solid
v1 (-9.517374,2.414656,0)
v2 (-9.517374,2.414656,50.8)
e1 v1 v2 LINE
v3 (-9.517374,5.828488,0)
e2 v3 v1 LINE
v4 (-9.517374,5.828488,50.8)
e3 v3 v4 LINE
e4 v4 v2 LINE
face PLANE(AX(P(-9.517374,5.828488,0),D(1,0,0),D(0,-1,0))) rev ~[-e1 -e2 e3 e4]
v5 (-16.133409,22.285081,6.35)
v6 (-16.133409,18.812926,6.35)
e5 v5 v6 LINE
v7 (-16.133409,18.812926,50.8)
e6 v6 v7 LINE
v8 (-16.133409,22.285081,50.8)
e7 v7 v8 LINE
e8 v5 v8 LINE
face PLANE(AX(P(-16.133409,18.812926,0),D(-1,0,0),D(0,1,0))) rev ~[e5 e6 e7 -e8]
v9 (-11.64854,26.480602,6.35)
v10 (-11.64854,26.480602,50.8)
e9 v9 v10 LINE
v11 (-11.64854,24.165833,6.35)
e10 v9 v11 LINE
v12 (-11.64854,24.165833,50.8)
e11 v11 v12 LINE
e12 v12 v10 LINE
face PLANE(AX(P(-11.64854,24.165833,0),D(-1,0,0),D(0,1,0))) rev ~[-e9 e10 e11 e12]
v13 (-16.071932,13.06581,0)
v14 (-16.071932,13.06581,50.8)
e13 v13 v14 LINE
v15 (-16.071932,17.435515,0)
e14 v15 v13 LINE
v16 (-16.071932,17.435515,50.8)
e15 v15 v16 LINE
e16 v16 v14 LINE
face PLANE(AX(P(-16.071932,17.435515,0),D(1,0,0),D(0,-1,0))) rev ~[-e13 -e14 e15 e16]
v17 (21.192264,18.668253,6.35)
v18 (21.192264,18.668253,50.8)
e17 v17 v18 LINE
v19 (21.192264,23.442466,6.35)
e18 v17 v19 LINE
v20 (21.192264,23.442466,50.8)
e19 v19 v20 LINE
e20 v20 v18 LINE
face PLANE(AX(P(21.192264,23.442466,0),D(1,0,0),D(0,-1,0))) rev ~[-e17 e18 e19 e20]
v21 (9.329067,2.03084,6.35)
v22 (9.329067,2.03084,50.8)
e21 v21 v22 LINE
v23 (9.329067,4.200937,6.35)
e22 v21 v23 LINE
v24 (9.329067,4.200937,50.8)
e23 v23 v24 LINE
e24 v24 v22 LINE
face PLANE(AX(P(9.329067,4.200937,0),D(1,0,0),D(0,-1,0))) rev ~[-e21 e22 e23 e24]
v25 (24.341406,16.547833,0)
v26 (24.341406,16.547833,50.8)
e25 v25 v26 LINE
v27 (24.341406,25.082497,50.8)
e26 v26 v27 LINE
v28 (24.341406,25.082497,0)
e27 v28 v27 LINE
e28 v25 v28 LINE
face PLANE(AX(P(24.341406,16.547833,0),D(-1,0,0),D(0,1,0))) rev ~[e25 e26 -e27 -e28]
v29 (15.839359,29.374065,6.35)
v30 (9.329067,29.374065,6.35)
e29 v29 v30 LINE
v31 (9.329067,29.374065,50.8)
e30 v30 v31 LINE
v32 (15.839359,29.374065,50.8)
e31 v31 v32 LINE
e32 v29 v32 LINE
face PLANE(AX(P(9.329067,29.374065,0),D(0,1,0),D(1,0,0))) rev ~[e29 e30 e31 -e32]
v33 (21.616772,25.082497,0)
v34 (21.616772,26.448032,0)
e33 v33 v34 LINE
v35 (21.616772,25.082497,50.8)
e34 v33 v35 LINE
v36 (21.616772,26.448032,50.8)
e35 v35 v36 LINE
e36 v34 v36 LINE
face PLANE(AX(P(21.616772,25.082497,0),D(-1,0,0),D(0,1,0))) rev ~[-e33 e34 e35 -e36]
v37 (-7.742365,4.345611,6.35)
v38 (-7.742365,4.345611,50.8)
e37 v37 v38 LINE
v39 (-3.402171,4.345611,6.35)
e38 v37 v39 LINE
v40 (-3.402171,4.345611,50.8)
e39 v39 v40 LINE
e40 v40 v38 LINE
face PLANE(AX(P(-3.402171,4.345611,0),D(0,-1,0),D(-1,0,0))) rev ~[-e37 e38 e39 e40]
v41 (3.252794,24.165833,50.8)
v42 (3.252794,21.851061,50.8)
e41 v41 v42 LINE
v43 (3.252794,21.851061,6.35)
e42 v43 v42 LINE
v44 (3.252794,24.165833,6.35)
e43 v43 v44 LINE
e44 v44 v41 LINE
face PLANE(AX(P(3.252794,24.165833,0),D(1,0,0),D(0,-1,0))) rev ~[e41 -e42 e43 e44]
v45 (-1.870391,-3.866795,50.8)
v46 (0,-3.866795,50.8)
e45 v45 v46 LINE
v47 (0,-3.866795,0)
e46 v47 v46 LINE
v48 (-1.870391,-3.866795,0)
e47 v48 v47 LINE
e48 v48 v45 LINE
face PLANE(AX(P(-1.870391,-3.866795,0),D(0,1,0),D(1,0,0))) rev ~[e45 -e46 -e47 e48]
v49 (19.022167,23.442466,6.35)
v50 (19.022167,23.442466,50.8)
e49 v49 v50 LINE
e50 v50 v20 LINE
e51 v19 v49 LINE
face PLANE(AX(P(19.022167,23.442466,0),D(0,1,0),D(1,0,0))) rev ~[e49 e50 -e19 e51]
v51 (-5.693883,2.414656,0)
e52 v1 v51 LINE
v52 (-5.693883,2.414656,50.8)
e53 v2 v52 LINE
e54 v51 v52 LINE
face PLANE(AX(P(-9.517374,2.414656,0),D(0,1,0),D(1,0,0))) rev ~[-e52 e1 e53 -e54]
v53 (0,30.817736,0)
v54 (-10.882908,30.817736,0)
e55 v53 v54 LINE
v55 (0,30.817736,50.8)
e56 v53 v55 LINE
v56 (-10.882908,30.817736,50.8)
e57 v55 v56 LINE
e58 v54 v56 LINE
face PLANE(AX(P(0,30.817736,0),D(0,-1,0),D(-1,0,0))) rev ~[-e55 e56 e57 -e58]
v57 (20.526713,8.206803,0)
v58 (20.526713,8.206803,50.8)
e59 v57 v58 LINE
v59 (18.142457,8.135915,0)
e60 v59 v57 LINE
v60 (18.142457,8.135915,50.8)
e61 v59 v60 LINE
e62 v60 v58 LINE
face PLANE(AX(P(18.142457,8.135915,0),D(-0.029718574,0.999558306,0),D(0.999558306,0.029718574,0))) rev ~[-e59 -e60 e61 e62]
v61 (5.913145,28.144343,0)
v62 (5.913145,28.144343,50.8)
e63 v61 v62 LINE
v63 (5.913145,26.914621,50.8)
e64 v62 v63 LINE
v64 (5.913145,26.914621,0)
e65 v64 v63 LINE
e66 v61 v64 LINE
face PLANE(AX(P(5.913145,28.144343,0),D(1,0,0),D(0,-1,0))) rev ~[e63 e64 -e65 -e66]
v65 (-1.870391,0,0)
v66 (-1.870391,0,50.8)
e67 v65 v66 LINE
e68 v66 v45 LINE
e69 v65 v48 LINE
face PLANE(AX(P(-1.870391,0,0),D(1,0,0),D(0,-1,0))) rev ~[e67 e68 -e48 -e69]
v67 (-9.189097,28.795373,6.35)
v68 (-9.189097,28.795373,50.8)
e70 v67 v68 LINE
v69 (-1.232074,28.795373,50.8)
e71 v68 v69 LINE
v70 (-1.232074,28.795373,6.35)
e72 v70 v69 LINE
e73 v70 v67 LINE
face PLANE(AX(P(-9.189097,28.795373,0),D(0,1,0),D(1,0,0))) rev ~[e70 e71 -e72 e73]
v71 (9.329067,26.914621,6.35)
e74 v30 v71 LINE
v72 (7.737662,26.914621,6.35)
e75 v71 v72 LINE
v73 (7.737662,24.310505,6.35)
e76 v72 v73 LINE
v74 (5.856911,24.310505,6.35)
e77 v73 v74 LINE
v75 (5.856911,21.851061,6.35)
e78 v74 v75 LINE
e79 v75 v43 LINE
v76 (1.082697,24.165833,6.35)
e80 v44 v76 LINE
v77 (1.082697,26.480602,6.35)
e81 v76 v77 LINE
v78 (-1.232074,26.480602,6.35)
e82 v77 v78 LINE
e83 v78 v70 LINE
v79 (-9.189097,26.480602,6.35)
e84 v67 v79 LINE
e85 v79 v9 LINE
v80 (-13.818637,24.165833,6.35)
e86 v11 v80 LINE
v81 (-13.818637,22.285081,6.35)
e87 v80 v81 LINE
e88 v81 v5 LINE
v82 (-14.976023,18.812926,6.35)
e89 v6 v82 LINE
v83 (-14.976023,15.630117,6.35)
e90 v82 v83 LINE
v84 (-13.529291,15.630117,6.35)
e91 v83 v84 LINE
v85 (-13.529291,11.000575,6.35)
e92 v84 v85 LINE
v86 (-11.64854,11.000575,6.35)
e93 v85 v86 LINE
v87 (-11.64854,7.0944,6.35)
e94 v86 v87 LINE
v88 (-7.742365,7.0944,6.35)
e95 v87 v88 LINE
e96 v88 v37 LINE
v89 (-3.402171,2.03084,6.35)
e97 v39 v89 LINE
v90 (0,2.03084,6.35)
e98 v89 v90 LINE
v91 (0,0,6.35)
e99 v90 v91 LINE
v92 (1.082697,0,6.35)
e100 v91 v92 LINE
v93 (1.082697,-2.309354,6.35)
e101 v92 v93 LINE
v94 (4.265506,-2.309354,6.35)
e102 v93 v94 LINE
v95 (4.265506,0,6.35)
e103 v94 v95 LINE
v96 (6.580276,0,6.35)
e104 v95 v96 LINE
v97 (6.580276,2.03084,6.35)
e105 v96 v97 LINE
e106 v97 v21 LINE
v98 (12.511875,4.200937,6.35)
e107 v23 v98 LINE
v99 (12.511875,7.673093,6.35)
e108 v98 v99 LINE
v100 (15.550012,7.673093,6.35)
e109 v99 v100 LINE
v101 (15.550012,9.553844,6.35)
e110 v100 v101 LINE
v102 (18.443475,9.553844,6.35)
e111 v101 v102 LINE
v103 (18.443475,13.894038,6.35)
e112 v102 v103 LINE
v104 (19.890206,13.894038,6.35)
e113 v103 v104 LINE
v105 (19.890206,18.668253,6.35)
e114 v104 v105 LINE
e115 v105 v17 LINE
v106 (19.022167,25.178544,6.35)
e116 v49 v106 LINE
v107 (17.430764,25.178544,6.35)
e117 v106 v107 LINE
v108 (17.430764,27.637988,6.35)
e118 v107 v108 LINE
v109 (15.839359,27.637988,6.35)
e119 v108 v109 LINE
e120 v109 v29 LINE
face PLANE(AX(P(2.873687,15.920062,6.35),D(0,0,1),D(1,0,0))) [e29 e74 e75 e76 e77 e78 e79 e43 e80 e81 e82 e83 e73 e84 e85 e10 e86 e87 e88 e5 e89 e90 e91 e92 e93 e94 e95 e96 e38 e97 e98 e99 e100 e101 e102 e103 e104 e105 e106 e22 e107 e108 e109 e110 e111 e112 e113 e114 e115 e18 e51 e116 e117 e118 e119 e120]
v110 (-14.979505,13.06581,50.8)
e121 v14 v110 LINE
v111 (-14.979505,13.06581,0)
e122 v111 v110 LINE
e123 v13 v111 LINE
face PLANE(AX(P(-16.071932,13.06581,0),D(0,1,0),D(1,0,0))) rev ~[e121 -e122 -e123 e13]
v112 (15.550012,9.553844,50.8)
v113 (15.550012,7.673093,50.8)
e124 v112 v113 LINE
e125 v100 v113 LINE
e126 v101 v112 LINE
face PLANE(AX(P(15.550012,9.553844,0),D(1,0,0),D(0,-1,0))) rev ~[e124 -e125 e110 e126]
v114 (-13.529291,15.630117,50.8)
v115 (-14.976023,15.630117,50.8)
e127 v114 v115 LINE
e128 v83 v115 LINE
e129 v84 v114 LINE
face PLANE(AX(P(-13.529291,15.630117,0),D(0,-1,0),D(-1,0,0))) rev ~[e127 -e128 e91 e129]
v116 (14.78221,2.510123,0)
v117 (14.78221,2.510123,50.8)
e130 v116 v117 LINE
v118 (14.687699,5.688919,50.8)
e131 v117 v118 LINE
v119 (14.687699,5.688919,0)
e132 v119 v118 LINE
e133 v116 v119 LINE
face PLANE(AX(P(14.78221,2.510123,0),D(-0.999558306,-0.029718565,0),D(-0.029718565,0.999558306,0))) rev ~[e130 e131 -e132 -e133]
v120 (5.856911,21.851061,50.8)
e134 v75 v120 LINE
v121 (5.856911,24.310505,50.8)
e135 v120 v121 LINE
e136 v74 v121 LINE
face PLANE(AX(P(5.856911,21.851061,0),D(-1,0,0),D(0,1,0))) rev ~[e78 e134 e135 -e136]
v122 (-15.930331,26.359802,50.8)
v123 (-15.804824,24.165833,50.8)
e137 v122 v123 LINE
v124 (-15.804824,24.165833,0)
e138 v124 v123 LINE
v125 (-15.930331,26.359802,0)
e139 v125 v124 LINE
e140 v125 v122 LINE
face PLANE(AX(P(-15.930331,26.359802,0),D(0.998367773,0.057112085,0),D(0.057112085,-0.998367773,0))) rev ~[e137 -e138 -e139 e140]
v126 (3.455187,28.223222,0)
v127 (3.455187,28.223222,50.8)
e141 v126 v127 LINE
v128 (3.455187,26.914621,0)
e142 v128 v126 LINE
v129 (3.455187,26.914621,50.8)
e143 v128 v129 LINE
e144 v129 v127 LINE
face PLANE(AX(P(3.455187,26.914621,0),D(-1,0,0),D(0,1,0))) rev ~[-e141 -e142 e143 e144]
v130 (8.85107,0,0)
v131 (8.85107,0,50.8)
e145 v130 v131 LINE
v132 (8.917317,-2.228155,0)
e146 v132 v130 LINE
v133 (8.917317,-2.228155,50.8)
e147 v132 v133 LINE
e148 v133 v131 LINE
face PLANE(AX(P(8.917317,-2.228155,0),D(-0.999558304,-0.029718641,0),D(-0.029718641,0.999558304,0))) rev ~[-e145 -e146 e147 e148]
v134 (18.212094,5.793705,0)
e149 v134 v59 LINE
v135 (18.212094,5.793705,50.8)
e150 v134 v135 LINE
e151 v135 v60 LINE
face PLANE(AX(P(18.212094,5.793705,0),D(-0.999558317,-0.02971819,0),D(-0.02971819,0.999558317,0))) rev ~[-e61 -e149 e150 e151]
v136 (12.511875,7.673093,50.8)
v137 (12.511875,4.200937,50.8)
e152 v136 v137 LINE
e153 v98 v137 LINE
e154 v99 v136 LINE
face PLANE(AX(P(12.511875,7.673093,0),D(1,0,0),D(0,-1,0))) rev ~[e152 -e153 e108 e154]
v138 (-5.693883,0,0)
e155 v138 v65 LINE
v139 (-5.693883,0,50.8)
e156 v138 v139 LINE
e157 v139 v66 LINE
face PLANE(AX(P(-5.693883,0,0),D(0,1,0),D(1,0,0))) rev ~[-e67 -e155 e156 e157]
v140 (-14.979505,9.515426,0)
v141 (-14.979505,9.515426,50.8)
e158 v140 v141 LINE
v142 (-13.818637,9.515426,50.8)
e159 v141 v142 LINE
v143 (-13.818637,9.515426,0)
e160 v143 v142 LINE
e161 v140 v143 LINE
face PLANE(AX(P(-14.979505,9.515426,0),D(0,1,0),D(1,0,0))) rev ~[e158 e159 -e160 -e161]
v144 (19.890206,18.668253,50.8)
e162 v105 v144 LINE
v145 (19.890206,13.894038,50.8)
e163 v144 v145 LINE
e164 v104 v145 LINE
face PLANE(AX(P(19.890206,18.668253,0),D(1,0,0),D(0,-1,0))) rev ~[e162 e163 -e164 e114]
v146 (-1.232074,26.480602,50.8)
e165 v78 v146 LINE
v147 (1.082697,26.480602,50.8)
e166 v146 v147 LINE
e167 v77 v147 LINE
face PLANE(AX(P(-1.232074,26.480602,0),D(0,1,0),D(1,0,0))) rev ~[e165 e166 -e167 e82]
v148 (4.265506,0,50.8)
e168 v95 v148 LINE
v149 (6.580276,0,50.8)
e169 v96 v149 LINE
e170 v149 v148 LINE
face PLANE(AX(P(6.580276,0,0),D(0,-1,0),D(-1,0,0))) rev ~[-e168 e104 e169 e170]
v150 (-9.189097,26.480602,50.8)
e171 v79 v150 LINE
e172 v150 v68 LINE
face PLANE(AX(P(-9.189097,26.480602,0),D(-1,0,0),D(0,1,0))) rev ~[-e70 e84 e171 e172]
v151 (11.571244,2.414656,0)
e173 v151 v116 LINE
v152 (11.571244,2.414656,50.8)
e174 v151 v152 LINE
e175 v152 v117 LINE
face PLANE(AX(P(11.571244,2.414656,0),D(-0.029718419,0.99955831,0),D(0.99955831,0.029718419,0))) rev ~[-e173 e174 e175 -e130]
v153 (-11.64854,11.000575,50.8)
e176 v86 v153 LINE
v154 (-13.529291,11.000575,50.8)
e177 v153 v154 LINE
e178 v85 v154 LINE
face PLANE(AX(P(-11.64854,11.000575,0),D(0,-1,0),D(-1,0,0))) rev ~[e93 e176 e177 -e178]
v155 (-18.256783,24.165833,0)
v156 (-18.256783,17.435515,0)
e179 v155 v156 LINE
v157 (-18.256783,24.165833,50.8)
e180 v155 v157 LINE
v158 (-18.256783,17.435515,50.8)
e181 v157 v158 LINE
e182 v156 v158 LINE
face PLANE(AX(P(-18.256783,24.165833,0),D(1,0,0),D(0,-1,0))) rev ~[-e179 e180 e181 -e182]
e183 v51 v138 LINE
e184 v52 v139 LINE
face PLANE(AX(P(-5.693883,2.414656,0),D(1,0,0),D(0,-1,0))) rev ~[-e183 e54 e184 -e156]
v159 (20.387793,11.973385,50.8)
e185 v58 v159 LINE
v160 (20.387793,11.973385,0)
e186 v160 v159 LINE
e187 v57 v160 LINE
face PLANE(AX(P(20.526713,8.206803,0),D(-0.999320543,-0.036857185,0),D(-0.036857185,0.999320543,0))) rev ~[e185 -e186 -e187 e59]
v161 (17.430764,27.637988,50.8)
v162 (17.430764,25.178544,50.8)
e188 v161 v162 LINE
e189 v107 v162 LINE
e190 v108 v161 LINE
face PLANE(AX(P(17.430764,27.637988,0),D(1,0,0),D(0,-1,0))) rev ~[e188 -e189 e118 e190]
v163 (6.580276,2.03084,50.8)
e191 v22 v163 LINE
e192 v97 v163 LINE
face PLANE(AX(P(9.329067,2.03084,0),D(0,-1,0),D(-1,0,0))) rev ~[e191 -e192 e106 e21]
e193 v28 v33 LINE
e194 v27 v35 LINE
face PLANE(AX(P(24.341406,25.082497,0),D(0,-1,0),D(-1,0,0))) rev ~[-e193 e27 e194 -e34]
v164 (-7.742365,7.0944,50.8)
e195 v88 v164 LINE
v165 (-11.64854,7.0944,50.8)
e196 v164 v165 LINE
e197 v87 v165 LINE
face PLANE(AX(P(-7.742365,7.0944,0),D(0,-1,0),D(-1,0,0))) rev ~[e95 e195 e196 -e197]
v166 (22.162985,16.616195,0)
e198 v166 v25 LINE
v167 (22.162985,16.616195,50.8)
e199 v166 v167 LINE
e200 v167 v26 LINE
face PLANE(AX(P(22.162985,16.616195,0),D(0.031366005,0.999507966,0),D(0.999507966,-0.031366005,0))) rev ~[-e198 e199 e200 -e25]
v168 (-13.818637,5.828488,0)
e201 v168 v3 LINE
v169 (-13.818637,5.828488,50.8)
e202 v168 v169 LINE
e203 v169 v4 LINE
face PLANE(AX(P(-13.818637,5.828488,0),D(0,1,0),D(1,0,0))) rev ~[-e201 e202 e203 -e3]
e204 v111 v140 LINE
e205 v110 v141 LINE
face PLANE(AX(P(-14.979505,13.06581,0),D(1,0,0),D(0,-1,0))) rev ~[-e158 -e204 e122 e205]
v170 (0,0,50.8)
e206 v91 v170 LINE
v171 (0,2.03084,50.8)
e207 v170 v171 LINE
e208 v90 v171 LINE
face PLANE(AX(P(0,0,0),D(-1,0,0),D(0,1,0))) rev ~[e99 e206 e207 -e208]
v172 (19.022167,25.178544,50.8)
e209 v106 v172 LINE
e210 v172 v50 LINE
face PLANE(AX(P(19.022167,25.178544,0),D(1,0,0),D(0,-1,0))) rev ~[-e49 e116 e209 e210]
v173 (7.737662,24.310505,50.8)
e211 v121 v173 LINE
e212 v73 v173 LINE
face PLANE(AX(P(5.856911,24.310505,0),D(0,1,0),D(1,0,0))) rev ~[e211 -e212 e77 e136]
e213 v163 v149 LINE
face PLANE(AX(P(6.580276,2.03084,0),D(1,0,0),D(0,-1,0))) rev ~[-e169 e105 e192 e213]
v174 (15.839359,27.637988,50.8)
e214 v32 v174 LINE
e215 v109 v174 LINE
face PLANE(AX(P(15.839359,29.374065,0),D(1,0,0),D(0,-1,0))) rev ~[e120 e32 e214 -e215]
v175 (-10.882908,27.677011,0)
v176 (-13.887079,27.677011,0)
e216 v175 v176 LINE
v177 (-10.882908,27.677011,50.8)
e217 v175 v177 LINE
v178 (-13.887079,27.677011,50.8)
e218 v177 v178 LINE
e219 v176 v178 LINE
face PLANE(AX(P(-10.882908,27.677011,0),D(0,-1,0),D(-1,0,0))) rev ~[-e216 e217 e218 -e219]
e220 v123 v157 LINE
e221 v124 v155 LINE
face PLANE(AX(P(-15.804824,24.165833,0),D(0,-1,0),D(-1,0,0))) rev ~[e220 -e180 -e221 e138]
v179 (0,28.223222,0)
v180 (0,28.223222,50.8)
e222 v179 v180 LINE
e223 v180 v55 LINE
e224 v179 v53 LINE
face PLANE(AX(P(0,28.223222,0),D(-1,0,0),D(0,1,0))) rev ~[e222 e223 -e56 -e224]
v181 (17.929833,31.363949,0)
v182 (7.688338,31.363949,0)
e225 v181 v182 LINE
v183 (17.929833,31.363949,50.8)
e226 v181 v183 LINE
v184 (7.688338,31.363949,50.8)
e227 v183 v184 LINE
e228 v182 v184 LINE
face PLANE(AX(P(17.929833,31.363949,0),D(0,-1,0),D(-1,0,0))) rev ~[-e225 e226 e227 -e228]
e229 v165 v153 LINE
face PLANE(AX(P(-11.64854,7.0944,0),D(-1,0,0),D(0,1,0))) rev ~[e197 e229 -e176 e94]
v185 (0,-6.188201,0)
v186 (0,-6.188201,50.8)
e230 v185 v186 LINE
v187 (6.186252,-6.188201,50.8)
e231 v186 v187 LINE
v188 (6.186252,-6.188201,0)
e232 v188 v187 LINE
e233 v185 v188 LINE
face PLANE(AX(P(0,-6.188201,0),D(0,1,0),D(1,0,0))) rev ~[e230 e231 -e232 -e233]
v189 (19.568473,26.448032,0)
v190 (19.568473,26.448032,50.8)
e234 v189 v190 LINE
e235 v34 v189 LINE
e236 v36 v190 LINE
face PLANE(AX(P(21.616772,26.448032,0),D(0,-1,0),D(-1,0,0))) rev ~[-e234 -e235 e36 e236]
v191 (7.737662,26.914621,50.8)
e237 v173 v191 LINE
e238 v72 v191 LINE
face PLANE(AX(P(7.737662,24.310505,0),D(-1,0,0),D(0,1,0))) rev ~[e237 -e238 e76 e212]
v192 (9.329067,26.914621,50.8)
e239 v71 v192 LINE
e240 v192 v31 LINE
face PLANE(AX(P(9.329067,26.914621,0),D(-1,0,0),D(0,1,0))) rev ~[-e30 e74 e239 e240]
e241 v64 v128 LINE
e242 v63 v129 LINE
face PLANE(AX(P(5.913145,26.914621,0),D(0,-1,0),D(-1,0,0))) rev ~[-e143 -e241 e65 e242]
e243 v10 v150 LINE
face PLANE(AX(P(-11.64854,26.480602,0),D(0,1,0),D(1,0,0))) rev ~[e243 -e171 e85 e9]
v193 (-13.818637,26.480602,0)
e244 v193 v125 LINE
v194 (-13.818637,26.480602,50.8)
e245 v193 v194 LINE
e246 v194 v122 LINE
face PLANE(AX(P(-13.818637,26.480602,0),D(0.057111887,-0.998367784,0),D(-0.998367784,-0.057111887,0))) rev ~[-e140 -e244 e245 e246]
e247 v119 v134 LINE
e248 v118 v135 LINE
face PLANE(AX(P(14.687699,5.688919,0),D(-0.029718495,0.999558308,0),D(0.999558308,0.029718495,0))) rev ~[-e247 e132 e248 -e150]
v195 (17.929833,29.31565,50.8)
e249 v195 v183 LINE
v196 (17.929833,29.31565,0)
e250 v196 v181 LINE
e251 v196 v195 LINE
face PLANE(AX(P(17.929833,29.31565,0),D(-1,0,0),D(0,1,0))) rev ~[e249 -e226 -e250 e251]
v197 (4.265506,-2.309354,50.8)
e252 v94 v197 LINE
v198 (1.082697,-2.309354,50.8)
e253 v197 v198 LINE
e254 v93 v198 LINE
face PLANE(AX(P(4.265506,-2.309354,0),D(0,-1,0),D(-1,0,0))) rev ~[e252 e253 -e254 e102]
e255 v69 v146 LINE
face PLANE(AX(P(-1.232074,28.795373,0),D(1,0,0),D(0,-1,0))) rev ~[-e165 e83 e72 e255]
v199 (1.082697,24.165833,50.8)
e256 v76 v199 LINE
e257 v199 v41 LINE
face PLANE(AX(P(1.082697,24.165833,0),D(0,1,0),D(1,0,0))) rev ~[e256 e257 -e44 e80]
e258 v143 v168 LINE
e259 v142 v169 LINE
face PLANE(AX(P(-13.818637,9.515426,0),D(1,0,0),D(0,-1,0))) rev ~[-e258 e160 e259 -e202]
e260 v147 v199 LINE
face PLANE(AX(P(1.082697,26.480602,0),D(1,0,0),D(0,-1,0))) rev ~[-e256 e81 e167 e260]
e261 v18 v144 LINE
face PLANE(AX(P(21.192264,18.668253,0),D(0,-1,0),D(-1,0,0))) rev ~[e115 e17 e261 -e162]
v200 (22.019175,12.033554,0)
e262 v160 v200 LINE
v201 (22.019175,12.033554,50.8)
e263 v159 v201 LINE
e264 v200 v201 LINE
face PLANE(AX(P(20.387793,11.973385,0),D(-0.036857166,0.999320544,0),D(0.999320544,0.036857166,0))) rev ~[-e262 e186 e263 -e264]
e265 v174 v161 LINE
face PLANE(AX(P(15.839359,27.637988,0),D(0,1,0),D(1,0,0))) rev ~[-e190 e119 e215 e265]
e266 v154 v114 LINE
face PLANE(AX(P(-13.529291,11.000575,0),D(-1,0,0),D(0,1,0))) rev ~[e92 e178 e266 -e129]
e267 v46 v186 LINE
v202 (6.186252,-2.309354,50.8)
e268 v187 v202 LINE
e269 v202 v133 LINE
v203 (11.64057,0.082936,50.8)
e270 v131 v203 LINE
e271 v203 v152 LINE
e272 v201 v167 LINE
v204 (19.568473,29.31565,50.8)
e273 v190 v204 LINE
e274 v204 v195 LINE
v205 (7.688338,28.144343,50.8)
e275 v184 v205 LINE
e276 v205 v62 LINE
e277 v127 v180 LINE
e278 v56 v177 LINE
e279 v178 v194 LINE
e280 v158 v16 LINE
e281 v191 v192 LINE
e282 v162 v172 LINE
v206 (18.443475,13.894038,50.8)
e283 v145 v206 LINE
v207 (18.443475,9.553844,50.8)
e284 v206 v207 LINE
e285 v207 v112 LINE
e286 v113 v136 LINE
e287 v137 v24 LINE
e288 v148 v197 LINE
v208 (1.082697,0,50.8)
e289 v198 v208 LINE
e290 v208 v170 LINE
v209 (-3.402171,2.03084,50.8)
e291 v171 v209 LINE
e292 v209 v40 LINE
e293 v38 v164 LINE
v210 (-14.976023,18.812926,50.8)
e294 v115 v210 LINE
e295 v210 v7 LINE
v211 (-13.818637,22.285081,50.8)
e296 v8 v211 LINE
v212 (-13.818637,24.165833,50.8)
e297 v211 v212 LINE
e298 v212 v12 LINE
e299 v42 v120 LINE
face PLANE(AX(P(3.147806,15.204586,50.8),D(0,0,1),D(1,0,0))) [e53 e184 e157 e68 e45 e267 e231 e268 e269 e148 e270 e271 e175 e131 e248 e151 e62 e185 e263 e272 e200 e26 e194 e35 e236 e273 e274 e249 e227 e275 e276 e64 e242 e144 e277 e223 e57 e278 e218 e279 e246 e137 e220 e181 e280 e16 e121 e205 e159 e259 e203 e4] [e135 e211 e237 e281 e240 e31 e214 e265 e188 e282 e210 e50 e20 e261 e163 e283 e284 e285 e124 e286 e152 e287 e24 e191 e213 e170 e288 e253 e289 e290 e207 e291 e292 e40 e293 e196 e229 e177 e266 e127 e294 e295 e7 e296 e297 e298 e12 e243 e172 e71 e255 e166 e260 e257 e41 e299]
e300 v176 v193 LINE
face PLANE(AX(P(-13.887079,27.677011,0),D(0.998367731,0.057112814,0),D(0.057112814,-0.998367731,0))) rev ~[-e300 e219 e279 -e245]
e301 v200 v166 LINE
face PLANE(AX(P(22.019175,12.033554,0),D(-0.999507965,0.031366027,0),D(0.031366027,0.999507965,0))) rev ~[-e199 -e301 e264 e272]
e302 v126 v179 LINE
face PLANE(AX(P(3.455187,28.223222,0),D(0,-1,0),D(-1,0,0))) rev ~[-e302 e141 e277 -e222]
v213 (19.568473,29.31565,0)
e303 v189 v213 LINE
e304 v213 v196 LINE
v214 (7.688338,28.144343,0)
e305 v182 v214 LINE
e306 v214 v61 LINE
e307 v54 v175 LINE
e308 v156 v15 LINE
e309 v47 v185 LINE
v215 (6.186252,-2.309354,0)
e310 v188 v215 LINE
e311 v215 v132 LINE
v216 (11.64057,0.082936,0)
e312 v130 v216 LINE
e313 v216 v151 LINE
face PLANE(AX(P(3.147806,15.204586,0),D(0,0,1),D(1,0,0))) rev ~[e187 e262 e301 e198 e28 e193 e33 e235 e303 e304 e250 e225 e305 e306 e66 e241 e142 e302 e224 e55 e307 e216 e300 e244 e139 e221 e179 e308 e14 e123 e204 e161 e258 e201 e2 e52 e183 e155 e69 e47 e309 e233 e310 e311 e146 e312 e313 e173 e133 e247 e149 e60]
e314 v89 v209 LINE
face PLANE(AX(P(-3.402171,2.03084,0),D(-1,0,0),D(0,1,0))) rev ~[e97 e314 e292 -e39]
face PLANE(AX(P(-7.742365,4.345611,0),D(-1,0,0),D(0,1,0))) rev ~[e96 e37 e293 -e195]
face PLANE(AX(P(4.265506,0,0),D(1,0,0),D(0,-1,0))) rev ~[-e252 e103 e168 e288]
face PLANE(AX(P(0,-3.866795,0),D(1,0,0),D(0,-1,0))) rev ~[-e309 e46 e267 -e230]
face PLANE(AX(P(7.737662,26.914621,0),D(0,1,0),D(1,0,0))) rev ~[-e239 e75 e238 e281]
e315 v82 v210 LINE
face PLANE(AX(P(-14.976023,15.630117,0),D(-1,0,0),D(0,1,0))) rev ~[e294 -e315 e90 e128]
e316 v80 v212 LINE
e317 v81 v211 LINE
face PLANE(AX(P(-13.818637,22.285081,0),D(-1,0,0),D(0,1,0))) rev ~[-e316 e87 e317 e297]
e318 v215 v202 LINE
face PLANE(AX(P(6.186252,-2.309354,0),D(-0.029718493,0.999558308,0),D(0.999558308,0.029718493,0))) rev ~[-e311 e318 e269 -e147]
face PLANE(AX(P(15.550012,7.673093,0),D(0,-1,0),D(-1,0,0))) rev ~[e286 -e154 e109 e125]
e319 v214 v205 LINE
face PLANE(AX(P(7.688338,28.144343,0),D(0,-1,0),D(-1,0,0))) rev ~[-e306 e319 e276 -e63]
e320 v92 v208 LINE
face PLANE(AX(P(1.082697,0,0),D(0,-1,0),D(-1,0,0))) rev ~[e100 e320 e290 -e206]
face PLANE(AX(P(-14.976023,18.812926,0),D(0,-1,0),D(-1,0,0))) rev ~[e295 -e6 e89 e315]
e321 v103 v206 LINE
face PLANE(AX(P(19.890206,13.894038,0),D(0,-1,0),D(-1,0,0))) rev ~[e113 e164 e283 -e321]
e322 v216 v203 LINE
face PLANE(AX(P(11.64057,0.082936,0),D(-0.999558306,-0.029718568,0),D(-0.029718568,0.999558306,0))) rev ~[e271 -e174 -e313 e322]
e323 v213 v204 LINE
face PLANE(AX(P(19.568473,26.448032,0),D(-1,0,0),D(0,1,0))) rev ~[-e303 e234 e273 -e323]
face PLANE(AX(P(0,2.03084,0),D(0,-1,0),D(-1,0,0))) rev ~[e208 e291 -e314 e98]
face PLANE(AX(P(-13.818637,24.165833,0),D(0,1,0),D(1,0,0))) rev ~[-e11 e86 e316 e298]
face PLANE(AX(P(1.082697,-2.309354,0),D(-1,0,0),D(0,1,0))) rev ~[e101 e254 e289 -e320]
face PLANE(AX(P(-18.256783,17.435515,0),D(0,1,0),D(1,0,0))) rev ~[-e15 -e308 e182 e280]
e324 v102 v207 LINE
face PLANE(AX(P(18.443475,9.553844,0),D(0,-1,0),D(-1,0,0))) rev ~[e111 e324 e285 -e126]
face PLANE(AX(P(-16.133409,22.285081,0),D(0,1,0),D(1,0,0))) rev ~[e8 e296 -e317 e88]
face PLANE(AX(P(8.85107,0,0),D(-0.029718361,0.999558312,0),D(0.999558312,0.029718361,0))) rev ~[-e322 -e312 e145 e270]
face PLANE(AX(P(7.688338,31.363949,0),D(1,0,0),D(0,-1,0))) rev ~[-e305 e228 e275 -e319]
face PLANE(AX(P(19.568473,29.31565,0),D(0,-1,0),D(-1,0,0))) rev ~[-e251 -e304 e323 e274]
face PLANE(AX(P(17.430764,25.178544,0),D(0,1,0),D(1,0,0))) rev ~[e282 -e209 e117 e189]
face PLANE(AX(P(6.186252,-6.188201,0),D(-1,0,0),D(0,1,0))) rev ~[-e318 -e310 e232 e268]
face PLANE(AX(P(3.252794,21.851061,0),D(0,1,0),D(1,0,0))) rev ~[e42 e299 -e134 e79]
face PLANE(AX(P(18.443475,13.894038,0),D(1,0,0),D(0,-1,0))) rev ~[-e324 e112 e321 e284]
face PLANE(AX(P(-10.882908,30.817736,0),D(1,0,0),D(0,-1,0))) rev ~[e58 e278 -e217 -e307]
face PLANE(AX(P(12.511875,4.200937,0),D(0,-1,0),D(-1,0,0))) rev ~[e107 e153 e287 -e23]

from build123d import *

# Parameters (mm, degrees)
F1_DEPTH = 6.35
F2_DEPTH = 50.8


with BuildPart() as f1:
    # F0 (on Top) → F1 (new body)
    with BuildSketch(Plane.XY):
        Polygon((3.252794, 21.851061), (3.252794, 22.285081), (3.252794, 24.165833), (1.082697, 24.165833), (1.082697, 26.480602), (-1.232074, 26.480602), (-1.232074, 28.795373), (-3.402171, 28.795373), (-6.440307, 28.795373), (-9.189097, 28.795373), (-9.189097, 26.480602), (-11.64854, 26.480602), (-11.64854, 24.165833), (-13.818637, 24.165833), (-13.818637, 22.285081), (-16.133409, 22.285081), (-16.133409, 18.812926), (-14.976023, 18.812926), (-14.976023, 15.630117), (-13.529291, 15.630117), (-13.529291, 11.000575), (-11.64854, 11.000575), (-11.64854, 7.0944), (-7.742365, 7.0944), (-7.742365, 4.345611), (-3.402171, 4.345611), (-3.402171, 2.03084), (0, 2.03084), (0, 0), (1.082697, 0), (1.082697, -2.309354), (4.265506, -2.309354), (4.265506, 0), (6.580276, 0), (6.580276, 2.03084), (9.329067, 2.03084), (9.329067, 4.200937), (12.511875, 4.200937), (12.511875, 7.673093), (15.550012, 7.673093), (15.550012, 9.553844), (18.443475, 9.553844), (18.443475, 13.894038), (19.890206, 13.894038), (19.890206, 18.668253), (21.192264, 18.668253), (21.192264, 23.442466), (19.022167, 23.442466), (19.022167, 25.178544), (17.430764, 25.178544), (17.430764, 27.637988), (15.839359, 27.637988), (15.839359, 29.374065), (9.329067, 29.374065), (9.329067, 26.914621), (7.737662, 26.914621), (7.737662, 24.310505), (5.856911, 24.310505), (5.856911, 21.851061), align=None)
    extrude(amount=F1_DEPTH)

    # F0 (on Top) → F2 (join)
    with BuildSketch(Plane.XY):
        Polygon((0, 28.223222), (0, 30.817736), (-10.882908, 30.817736), (-10.882908, 27.677011), (-13.887079, 27.677011), (-13.818637, 26.480602), (-15.930331, 26.359802), (-15.804824, 24.165833), (-18.256783, 24.165833), (-18.256783, 17.435515), (-16.071932, 17.435515), (-16.071932, 13.06581), (-14.979505, 13.06581), (-14.979505, 9.515426), (-13.818637, 9.515426), (-13.818637, 5.828488), (-9.517374, 5.828488), (-9.517374, 2.414656), (-5.693883, 2.414656), (-5.693883, 0), (-1.870391, 0), (-1.870391, -3.866795), (0, -3.866795), (0, -6.188201), (6.186252, -6.188201), (6.186252, -2.309354), (8.917317, -2.228155), (8.85107, 0), (11.64057, 0.082936), (11.571244, 2.414656), (14.78221, 2.510123), (14.687699, 5.688919), (18.212094, 5.793705), (18.142457, 8.135915), (20.526713, 8.206803), (20.387793, 11.973385), (22.019175, 12.033554), (22.162985, 16.616195), (24.341406, 16.547833), (24.341406, 25.082497), (21.616772, 25.082497), (21.616772, 26.448032), (19.568473, 26.448032), (19.568473, 29.31565), (17.929833, 29.31565), (17.929833, 31.363949), (7.688338, 31.363949), (7.688338, 28.144343), (5.913145, 28.144343), (5.913145, 26.914621), (3.455187, 26.914621), (3.455187, 28.223222), align=None)
        Polygon((3.252794, 24.165833), (3.252794, 22.285081), (3.252794, 21.851061), (5.856911, 21.851061), (5.856911, 24.310505), (7.737662, 24.310505), (7.737662, 26.914621), (9.329067, 26.914621), (9.329067, 29.374065), (15.839359, 29.374065), (15.839359, 27.637988), (17.430764, 27.637988), (17.430764, 25.178544), (19.022167, 25.178544), (19.022167, 23.442466), (21.192264, 23.442466), (21.192264, 18.668253), (19.890206, 18.668253), (19.890206, 13.894038), (18.443475, 13.894038), (18.443475, 9.553844), (15.550012, 9.553844), (15.550012, 7.673093), (12.511875, 7.673093), (12.511875, 4.200937), (9.329067, 4.200937), (9.329067, 2.03084), (6.580276, 2.03084), (6.580276, 0), (4.265506, 0), (4.265506, -2.309354), (1.082697, -2.309354), (1.082697, 0), (0, 0), (0, 2.03084), (-3.402171, 2.03084), (-3.402171, 4.345611), (-7.742365, 4.345611), (-7.742365, 7.0944), (-11.64854, 7.0944), (-11.64854, 11.000575), (-13.529291, 11.000575), (-13.529291, 15.630117), (-14.976023, 15.630117), (-14.976023, 18.812926), (-16.133409, 18.812926), (-16.133409, 22.285081), (-13.818637, 22.285081), (-13.818637, 24.165833), (-11.64854, 24.165833), (-11.64854, 26.480602), (-9.189097, 26.480602), (-9.189097, 28.795373), (-6.440307, 28.795373), (-3.402171, 28.795373), (-1.232074, 28.795373), (-1.232074, 26.480602), (1.082697, 26.480602), (1.082697, 24.165833), align=None, mode=Mode.SUBTRACT)
    extrude(amount=F2_DEPTH)


solid = f1.part
